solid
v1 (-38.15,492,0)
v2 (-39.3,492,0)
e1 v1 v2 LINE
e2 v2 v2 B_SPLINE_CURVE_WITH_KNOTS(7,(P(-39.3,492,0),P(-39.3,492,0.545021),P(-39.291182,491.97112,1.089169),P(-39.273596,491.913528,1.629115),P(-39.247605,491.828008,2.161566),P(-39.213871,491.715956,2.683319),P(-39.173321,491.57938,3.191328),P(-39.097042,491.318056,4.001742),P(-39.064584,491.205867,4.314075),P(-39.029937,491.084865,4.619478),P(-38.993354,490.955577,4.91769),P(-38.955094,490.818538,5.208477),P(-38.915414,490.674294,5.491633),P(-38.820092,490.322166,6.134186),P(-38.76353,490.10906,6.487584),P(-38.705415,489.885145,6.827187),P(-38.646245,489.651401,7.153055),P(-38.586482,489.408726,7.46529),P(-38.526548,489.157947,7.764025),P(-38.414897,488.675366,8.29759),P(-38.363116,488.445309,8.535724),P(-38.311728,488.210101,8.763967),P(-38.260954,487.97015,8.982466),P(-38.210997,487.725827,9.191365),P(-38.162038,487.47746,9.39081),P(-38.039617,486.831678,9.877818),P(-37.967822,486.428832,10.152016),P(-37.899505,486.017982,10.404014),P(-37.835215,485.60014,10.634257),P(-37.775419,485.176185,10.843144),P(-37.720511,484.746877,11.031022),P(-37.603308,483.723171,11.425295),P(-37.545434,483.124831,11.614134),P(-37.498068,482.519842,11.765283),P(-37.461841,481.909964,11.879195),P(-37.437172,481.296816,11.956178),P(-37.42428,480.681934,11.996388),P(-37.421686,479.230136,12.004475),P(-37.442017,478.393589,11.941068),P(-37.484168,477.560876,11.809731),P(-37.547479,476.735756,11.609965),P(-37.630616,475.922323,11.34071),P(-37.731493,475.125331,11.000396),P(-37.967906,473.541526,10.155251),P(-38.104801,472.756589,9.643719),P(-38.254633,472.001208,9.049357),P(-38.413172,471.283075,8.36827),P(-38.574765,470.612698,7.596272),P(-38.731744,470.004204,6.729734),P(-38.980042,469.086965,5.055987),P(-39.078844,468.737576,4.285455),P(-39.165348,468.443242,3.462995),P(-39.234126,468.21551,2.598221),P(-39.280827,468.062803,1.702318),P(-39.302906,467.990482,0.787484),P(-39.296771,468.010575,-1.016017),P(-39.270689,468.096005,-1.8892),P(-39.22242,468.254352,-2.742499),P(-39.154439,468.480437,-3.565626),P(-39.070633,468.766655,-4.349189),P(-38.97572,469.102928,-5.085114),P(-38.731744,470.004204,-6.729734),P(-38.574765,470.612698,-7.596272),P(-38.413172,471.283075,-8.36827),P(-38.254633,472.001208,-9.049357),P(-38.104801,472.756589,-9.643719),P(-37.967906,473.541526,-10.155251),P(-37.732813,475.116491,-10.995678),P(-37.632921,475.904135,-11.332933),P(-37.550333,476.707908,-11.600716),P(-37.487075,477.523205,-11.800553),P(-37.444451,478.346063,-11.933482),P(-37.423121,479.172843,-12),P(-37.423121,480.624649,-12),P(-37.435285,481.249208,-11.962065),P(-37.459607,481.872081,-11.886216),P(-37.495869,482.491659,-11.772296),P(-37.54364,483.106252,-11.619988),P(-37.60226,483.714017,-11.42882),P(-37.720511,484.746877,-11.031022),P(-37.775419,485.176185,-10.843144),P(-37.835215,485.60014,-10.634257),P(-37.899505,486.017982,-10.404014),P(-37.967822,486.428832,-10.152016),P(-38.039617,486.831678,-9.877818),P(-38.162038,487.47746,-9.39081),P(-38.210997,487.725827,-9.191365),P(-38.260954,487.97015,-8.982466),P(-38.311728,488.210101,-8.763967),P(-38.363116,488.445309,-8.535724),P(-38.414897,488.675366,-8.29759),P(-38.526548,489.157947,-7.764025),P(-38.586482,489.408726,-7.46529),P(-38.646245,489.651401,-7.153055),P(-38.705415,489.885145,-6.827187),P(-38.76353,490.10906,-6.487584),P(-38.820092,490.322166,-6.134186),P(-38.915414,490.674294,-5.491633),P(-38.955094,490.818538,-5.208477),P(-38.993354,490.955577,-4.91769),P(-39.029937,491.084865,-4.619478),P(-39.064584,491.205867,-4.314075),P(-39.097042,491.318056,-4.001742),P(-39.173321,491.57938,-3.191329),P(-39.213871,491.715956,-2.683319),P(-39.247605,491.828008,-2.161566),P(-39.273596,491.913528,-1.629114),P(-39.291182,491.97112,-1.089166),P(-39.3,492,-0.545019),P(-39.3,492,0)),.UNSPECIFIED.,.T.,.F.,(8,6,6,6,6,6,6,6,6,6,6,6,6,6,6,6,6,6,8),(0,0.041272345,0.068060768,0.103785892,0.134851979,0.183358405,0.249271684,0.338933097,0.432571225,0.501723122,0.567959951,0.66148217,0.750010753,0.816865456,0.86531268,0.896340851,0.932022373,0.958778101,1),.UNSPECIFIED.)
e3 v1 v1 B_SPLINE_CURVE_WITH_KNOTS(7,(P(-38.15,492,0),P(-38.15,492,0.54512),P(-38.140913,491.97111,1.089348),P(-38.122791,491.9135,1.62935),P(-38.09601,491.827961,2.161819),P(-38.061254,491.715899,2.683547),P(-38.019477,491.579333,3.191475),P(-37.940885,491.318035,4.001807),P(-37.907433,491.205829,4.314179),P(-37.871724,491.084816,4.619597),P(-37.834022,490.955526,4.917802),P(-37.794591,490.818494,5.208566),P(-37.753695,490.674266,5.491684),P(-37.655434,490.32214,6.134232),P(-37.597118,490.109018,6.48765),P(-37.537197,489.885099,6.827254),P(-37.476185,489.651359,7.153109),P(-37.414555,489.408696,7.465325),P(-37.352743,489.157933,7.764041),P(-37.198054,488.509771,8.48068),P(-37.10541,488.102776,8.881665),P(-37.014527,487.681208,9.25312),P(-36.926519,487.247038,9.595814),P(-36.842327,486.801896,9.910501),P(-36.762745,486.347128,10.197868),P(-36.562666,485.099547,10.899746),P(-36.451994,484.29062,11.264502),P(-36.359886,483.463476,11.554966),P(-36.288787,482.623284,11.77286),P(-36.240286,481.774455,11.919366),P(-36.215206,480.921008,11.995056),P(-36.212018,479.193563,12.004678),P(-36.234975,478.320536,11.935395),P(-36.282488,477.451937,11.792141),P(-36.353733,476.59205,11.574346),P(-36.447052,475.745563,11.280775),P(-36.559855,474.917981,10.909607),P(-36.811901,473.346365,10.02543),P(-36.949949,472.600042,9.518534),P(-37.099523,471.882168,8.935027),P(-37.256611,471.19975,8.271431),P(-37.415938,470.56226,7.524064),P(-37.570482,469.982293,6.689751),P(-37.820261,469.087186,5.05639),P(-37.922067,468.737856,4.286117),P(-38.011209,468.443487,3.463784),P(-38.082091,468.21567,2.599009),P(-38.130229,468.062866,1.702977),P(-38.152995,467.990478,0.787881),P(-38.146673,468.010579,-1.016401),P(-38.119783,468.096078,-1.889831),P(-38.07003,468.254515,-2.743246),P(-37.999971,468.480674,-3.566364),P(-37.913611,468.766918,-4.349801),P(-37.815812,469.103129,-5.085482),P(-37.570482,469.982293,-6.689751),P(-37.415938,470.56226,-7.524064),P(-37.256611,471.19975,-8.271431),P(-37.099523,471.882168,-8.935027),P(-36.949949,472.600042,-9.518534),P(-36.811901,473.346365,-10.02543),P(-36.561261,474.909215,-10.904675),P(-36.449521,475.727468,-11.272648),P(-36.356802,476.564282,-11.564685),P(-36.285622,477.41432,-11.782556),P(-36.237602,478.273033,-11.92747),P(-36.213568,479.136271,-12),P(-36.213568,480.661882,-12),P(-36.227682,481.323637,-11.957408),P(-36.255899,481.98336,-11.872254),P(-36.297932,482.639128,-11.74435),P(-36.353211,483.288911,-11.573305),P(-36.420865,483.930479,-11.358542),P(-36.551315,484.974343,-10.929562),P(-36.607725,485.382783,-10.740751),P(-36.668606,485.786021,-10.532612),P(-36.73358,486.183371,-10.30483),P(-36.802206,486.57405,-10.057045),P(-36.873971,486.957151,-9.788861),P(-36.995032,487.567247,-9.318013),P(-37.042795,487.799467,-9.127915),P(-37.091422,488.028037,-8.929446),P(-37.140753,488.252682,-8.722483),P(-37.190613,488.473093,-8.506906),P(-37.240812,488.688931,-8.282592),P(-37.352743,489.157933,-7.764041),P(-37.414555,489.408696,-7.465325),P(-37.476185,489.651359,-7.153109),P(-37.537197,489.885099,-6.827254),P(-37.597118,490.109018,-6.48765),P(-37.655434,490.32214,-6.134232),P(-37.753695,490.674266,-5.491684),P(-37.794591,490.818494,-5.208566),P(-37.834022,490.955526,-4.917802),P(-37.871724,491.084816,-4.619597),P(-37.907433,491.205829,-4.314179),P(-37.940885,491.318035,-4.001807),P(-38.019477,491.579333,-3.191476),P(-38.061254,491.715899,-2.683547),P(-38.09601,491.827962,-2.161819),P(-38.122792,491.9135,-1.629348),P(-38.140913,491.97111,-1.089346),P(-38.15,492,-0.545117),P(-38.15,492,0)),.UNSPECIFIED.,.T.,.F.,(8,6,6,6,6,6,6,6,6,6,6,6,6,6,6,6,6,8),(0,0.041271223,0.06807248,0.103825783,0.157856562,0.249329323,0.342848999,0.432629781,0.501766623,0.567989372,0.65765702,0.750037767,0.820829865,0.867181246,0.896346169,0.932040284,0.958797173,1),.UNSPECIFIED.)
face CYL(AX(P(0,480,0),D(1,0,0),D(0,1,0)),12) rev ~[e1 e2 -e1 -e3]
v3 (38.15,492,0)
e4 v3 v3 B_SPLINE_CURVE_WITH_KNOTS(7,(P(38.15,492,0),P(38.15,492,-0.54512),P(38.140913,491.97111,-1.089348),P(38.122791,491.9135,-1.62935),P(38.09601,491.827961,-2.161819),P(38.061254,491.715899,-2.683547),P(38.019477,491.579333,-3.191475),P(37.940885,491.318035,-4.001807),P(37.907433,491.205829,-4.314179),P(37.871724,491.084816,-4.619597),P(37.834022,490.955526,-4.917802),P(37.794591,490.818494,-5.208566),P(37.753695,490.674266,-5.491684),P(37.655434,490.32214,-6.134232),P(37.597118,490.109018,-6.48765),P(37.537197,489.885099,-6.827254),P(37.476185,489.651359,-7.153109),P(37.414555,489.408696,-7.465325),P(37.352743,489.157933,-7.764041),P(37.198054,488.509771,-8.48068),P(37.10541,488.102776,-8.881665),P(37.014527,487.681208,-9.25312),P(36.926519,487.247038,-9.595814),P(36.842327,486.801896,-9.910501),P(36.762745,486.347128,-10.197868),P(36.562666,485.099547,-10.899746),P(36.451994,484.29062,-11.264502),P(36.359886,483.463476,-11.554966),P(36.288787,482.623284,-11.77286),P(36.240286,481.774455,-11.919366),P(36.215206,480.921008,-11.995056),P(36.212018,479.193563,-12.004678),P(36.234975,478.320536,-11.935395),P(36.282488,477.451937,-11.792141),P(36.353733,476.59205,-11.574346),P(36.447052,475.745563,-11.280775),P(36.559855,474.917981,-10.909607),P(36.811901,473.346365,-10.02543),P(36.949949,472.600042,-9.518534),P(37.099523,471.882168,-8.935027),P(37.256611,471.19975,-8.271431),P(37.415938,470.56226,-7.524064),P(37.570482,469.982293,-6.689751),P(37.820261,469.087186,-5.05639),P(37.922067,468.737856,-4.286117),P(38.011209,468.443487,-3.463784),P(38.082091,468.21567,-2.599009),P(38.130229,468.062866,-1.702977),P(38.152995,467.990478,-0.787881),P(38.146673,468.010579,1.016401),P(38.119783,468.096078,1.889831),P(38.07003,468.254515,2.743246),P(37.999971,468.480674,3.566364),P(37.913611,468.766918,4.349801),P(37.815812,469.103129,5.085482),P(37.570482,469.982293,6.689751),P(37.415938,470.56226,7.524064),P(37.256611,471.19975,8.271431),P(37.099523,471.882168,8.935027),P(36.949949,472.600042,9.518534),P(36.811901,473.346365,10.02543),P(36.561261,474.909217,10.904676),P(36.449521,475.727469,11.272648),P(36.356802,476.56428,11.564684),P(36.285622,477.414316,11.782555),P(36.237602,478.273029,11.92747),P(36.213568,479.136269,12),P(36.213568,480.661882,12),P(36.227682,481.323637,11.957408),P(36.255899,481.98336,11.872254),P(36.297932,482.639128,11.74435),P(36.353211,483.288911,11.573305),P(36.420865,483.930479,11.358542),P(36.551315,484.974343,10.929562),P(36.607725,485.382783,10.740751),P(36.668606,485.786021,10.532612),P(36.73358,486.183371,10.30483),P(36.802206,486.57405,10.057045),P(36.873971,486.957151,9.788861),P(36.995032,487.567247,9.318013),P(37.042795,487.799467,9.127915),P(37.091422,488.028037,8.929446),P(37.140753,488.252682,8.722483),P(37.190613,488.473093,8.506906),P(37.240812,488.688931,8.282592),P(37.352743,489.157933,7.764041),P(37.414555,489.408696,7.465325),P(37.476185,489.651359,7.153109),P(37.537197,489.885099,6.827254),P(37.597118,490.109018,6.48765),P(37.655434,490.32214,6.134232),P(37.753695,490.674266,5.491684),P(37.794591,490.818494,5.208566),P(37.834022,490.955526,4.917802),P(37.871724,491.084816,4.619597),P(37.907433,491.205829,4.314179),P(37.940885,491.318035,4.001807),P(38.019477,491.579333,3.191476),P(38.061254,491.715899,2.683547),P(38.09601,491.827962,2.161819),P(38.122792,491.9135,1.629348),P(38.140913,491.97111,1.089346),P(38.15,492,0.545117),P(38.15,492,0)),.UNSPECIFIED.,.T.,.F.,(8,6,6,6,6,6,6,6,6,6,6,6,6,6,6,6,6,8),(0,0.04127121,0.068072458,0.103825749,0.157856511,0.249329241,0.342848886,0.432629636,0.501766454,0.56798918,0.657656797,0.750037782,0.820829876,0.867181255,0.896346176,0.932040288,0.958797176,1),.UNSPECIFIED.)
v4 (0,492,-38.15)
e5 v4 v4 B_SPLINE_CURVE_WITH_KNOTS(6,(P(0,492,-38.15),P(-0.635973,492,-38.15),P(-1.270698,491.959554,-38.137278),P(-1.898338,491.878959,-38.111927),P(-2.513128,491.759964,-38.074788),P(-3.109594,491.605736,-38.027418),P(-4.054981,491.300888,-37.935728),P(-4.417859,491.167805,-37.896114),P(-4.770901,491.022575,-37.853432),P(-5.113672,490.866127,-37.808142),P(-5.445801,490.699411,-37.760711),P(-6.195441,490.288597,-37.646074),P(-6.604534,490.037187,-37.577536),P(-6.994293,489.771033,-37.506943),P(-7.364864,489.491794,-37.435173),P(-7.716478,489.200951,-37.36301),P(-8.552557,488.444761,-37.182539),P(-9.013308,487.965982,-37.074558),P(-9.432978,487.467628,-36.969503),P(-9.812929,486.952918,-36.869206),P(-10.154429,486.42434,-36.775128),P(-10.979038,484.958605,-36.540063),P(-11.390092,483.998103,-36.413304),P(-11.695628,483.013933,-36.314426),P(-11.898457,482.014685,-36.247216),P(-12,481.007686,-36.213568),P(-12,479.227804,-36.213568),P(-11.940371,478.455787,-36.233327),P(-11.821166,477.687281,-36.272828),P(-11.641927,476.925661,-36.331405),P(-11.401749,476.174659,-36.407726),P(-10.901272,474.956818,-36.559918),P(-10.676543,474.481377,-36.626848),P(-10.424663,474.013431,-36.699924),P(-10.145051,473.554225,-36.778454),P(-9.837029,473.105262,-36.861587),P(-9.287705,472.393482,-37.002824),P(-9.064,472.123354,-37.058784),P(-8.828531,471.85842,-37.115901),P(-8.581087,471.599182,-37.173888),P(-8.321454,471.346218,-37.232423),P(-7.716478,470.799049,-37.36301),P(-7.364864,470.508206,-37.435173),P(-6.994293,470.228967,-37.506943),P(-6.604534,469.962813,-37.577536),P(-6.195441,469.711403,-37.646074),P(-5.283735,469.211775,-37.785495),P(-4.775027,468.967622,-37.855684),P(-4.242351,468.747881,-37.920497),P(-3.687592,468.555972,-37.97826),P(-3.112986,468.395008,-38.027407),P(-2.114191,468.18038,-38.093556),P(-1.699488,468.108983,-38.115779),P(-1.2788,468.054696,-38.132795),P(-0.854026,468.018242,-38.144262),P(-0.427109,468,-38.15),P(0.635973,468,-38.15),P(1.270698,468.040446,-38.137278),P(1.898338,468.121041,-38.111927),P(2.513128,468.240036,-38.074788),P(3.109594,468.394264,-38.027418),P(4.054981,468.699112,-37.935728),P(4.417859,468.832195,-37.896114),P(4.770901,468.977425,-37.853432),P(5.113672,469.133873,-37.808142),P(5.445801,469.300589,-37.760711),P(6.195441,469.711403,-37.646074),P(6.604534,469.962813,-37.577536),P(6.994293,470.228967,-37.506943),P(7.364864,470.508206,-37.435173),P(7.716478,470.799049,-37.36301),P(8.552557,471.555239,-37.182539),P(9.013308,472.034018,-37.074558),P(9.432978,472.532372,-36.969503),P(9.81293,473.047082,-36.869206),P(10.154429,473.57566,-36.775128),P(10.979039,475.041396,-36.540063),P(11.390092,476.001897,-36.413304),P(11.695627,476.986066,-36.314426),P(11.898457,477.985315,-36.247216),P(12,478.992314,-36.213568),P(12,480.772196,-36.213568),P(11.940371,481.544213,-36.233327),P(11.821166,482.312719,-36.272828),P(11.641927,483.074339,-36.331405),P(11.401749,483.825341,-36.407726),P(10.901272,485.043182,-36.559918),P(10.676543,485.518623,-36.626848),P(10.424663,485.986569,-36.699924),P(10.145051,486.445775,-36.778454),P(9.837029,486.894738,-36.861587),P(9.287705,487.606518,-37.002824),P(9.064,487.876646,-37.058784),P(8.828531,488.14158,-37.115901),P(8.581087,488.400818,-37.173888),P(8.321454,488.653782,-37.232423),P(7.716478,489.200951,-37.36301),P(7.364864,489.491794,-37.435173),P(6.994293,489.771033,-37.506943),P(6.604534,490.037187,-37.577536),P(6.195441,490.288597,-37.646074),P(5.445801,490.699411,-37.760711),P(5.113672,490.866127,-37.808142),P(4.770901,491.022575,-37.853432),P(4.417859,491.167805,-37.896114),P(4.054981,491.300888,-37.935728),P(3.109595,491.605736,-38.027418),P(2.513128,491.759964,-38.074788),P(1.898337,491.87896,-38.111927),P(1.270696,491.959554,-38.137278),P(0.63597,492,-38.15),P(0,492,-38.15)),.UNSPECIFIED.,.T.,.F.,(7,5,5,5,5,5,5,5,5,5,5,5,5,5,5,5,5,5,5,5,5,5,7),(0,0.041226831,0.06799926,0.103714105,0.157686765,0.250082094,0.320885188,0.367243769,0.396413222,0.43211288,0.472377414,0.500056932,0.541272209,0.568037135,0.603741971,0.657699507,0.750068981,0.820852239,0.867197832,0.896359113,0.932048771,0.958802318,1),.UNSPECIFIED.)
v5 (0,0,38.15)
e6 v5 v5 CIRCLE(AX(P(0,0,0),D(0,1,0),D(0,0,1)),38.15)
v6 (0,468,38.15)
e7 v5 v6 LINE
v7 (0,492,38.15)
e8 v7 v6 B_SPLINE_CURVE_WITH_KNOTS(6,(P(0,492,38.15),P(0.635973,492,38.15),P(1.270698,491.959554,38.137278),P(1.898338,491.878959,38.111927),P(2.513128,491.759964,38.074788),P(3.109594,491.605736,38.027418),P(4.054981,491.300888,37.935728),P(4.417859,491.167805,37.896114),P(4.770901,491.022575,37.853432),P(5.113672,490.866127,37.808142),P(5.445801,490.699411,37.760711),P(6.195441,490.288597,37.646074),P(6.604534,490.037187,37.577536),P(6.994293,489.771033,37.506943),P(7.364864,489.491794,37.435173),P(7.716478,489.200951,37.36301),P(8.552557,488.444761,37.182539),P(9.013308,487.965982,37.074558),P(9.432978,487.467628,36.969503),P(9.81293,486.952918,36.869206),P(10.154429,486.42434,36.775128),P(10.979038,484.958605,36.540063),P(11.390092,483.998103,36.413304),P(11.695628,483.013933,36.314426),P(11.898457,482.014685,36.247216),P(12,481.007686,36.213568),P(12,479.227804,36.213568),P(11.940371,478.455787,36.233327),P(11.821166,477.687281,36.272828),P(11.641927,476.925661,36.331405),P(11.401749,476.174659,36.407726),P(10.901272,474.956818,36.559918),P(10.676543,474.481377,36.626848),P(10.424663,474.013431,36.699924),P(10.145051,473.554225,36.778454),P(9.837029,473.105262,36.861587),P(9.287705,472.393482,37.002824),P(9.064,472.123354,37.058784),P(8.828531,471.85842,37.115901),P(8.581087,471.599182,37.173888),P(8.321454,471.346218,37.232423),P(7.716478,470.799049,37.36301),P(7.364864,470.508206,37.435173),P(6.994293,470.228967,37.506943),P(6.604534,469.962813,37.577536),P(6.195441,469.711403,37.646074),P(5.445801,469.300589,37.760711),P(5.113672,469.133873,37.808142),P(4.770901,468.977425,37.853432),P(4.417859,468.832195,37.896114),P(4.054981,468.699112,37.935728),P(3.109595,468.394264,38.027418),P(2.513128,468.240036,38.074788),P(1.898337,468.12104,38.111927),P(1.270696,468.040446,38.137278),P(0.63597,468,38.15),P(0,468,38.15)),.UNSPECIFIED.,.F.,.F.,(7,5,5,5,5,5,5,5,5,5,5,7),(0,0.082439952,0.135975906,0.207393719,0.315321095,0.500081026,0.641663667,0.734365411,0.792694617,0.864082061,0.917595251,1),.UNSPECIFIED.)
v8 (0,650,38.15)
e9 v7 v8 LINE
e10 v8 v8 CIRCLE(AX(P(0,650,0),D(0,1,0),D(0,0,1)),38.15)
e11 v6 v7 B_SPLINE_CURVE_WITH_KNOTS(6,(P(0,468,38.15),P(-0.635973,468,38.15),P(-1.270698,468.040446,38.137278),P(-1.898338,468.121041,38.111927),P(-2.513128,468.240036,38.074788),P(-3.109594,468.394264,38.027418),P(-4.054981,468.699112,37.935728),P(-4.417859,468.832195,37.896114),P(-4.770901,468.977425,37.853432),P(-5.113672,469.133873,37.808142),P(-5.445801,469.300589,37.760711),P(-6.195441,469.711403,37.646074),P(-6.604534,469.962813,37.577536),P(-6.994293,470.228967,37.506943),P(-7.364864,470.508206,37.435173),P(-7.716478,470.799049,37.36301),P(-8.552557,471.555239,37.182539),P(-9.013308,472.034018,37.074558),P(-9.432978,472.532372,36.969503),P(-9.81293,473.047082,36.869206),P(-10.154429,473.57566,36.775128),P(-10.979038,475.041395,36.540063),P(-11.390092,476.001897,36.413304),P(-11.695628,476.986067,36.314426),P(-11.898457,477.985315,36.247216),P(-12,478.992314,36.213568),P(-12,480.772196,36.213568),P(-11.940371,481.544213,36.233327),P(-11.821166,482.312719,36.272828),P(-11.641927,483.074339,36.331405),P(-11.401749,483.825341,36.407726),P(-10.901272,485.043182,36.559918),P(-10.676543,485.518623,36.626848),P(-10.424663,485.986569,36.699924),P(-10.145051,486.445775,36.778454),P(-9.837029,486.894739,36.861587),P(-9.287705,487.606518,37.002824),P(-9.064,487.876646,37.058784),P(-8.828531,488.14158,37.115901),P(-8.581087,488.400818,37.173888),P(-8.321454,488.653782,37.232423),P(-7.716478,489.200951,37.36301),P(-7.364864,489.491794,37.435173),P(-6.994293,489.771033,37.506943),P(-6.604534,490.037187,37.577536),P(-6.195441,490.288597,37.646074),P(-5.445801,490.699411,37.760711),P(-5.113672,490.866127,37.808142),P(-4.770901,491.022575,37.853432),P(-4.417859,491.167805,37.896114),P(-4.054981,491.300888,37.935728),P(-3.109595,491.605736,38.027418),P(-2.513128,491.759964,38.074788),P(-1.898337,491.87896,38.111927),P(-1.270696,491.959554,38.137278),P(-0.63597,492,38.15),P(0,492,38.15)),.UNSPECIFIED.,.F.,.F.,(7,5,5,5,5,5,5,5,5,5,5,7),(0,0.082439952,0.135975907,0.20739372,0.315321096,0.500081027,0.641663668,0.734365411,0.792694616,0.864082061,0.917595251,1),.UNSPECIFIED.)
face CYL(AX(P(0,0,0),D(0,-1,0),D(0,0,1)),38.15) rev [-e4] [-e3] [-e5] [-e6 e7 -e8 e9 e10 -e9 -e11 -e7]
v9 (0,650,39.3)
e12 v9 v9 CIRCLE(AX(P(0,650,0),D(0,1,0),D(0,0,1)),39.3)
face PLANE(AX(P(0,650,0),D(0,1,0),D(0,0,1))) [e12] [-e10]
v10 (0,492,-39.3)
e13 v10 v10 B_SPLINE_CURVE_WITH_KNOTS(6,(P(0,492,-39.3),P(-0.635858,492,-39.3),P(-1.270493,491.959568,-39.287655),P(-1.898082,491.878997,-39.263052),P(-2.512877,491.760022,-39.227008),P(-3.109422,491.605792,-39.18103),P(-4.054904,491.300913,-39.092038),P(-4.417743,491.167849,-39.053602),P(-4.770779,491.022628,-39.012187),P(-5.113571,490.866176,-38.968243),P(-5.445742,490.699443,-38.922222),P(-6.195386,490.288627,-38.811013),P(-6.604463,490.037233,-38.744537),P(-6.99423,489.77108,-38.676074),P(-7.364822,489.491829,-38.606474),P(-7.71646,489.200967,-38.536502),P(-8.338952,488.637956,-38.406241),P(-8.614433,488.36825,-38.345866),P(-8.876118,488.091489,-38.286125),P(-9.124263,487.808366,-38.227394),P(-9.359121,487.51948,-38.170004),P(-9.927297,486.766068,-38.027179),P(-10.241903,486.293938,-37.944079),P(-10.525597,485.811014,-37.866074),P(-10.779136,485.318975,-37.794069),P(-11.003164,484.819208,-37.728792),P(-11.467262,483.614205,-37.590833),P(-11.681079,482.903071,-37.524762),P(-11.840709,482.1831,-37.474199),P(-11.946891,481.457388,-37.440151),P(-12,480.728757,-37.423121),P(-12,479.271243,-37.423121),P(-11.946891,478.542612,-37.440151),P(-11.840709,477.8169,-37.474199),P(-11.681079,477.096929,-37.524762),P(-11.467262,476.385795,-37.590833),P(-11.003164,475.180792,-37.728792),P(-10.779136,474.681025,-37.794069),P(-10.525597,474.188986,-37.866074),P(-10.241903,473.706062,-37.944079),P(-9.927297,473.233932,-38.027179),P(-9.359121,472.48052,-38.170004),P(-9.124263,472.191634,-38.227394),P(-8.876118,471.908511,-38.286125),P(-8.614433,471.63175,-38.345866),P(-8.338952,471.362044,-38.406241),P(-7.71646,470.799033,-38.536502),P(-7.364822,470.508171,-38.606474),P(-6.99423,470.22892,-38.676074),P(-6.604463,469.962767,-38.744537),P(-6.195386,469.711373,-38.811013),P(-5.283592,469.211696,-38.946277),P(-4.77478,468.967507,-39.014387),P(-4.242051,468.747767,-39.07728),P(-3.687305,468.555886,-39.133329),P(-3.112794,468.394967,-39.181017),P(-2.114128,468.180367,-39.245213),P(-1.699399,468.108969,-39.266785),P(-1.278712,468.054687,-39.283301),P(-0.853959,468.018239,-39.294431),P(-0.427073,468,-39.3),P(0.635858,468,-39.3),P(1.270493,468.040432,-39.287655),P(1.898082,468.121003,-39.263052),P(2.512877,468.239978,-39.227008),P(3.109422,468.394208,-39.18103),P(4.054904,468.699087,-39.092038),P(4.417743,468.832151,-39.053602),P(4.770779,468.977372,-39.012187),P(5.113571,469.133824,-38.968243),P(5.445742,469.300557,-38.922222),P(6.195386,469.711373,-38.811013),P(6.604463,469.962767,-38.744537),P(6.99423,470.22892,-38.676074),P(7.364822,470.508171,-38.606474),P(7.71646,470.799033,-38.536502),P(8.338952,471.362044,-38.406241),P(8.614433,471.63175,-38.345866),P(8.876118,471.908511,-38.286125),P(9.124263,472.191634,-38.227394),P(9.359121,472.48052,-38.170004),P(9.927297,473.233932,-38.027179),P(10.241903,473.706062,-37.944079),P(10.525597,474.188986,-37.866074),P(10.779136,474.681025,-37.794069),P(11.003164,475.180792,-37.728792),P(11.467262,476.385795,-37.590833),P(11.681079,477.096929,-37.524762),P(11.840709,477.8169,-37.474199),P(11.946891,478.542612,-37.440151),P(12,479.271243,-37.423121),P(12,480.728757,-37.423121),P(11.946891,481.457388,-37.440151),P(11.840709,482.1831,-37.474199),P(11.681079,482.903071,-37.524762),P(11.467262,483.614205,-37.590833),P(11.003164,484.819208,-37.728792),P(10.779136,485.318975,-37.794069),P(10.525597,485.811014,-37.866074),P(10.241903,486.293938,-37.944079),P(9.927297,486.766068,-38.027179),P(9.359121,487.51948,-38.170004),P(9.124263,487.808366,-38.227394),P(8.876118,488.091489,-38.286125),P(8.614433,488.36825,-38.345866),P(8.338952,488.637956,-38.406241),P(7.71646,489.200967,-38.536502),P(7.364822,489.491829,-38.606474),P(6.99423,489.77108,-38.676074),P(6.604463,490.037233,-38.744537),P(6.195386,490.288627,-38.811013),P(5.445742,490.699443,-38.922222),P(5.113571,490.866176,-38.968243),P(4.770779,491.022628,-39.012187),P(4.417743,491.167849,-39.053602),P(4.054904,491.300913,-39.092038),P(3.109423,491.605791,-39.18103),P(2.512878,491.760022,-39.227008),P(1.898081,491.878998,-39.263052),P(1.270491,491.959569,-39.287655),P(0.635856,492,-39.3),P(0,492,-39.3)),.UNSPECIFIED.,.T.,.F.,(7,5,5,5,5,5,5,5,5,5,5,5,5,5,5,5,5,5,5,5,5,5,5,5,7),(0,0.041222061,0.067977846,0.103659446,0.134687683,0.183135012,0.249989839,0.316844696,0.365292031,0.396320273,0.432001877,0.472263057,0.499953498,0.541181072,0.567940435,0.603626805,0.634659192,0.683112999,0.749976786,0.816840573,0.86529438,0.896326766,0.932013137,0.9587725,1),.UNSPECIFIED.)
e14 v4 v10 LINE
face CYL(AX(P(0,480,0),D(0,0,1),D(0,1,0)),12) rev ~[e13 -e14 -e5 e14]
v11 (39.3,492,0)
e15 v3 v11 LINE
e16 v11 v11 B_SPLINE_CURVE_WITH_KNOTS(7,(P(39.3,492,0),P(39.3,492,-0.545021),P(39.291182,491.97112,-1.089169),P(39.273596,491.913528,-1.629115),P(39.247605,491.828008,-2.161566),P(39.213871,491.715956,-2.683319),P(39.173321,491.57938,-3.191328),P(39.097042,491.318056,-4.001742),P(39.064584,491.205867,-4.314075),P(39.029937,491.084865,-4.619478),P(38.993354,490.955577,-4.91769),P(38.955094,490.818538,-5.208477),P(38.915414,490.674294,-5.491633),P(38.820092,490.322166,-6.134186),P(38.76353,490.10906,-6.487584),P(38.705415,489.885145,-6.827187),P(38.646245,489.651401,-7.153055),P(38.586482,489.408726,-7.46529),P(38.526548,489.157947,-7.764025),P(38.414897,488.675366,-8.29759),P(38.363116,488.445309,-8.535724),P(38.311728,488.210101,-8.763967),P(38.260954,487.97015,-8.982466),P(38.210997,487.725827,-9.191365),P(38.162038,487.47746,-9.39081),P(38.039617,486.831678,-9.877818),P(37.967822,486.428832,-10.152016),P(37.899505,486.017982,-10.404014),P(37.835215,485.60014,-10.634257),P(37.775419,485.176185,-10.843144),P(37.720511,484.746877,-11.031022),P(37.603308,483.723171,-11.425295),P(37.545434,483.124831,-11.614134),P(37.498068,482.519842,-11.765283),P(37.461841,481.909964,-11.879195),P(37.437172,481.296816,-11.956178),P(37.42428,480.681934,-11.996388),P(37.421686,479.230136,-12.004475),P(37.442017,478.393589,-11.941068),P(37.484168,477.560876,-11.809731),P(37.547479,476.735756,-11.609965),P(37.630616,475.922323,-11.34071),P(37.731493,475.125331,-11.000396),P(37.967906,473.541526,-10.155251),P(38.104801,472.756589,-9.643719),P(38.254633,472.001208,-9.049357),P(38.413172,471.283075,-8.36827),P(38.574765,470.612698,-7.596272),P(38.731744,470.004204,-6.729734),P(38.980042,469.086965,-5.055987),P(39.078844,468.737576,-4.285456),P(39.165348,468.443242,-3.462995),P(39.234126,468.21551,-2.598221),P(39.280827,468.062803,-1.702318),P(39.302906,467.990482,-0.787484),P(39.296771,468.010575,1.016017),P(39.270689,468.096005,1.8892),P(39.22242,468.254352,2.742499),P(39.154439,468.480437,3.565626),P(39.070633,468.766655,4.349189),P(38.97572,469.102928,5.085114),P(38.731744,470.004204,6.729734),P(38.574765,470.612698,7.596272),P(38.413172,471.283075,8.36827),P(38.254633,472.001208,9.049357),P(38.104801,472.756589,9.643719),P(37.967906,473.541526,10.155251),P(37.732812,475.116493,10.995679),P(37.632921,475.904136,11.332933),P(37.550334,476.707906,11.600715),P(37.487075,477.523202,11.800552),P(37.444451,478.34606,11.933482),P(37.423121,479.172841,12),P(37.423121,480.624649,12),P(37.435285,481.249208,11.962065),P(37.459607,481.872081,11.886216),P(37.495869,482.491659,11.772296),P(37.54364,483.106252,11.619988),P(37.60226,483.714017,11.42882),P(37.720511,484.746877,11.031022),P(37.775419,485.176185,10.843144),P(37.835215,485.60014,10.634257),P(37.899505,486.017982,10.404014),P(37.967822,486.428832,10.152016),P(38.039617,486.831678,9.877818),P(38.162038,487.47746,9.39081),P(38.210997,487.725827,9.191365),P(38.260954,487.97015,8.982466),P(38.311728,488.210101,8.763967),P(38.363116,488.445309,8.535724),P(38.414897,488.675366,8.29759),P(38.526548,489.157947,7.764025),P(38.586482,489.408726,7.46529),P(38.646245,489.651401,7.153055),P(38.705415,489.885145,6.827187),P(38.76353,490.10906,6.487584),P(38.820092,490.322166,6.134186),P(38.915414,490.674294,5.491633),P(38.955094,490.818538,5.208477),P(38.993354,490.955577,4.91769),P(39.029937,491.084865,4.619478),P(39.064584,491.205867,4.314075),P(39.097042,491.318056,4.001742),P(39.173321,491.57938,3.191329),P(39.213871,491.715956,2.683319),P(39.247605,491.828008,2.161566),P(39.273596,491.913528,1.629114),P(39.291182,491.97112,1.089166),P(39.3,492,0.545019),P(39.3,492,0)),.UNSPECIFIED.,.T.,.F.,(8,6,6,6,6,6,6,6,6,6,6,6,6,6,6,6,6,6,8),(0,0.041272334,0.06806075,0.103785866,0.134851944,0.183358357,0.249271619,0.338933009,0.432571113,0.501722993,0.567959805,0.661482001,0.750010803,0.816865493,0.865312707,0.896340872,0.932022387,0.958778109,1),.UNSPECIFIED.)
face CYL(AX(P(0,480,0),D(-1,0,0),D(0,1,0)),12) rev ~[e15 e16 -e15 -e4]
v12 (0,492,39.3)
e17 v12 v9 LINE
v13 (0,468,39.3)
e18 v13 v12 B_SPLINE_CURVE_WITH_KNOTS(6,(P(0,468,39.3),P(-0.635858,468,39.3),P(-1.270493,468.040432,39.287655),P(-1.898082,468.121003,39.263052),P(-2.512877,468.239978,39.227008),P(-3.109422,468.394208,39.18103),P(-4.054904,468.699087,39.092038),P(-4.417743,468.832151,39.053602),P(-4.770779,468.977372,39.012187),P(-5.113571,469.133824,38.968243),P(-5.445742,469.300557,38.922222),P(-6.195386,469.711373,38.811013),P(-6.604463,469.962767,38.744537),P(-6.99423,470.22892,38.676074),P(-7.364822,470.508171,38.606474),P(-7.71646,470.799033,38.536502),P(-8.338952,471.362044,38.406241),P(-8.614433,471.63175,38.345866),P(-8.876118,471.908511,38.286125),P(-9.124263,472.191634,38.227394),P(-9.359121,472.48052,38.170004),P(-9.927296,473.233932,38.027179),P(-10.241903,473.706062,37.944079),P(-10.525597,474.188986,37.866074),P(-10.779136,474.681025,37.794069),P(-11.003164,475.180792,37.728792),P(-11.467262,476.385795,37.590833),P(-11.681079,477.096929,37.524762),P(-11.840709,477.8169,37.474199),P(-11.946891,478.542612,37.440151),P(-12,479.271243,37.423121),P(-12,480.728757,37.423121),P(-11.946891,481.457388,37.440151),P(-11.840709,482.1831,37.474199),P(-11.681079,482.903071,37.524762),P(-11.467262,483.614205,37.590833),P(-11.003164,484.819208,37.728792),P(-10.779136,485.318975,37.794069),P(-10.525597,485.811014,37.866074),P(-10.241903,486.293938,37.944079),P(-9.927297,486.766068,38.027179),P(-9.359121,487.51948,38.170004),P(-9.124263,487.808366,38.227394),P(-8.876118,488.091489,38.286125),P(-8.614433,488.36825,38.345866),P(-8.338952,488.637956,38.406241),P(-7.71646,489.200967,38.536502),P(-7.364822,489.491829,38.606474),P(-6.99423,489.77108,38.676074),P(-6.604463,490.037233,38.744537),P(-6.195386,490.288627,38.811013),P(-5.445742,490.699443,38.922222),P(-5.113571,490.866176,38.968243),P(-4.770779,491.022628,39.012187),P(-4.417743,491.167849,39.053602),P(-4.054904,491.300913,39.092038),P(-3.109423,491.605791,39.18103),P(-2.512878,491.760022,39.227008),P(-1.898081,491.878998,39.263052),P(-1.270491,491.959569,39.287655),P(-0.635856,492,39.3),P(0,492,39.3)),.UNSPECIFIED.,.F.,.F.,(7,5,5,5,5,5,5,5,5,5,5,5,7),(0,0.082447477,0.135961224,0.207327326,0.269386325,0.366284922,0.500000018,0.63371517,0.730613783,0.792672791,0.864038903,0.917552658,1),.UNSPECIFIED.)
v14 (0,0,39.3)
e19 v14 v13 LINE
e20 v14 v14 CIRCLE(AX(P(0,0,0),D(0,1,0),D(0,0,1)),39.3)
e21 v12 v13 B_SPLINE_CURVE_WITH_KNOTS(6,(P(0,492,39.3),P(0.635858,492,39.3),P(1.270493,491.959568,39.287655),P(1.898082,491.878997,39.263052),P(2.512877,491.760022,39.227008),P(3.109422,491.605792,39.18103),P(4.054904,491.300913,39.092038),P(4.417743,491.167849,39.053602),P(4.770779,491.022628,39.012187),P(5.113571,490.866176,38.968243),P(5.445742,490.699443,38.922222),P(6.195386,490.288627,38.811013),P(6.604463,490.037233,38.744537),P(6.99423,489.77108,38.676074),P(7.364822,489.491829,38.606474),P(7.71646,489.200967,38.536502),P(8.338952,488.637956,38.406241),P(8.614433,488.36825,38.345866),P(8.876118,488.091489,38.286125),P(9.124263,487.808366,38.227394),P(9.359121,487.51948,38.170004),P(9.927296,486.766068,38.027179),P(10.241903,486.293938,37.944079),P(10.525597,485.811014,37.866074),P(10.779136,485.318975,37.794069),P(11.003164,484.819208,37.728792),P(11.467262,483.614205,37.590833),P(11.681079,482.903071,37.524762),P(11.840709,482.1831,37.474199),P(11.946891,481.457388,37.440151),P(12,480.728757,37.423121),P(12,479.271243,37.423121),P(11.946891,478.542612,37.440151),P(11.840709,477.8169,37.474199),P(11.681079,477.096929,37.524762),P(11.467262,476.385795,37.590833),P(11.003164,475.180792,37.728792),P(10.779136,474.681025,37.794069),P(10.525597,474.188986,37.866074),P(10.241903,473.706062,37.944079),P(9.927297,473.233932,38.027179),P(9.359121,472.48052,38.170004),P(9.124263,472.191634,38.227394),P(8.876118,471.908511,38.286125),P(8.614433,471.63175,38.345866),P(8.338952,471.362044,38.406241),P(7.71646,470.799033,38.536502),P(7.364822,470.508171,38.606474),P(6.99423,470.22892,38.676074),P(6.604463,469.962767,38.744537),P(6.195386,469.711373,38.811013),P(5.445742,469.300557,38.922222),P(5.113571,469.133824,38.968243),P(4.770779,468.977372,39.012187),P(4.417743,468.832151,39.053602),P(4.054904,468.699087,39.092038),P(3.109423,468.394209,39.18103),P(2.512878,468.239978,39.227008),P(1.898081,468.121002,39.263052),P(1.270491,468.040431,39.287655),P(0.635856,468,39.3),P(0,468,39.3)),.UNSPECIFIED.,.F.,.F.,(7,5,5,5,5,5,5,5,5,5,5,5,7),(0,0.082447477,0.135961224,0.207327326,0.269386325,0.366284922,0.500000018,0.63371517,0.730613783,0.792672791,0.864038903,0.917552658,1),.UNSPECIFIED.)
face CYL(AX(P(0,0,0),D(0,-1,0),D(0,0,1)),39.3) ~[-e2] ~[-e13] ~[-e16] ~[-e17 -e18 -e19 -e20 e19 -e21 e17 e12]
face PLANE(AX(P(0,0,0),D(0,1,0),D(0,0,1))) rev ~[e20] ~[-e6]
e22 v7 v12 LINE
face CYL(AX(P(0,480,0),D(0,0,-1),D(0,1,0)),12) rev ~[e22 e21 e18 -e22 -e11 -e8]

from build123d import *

# Parameters (mm, degrees)
SKETCH2_R           = 39.3
SKETCH2_R_2         = 38.15
BOSS_EXTRUDE1_DEPTH = 650
SKETCH3_R           = 12
CUT_EXTRUDE1_DEPTH  = 653.371811163
CIRPATTERN1_COUNT   = 4


with BuildPart() as part:
    # Sketch2 → Boss-Extrude1 (new body)
    with BuildSketch(Plane(origin=(0, 0, 0), x_dir=(1, 0, 0), z_dir=(0, 1, 0))):
        with Locations(Location((0, 0, 0), (0, 0, 270))):
            Circle(SKETCH2_R)
        with Locations(Location((0, 0, 0), (0, 0, 270))):
            Circle(SKETCH2_R_2, mode=Mode.SUBTRACT)
    extrude(amount=BOSS_EXTRUDE1_DEPTH)

    # Sketch3 → Cut-Extrude1 (cut, through all)
    with BuildSketch(Plane.XY):
        with Locations(Location((0, 480, 0), (0, 0, 90))):
            Circle(SKETCH3_R)
    cut_extrude1 = extrude(amount=-CUT_EXTRUDE1_DEPTH, mode=Mode.SUBTRACT)

    # CirPattern1: Cut-Extrude1 ×4 about axis
    cirpattern1_axis = Axis((0, 650, 0), (0, -1, 0))
    for i in range(1, CIRPATTERN1_COUNT):
        add(cut_extrude1.rotate(cirpattern1_axis, i * 360 / CIRPATTERN1_COUNT), mode=Mode.SUBTRACT)


solid = part.part
